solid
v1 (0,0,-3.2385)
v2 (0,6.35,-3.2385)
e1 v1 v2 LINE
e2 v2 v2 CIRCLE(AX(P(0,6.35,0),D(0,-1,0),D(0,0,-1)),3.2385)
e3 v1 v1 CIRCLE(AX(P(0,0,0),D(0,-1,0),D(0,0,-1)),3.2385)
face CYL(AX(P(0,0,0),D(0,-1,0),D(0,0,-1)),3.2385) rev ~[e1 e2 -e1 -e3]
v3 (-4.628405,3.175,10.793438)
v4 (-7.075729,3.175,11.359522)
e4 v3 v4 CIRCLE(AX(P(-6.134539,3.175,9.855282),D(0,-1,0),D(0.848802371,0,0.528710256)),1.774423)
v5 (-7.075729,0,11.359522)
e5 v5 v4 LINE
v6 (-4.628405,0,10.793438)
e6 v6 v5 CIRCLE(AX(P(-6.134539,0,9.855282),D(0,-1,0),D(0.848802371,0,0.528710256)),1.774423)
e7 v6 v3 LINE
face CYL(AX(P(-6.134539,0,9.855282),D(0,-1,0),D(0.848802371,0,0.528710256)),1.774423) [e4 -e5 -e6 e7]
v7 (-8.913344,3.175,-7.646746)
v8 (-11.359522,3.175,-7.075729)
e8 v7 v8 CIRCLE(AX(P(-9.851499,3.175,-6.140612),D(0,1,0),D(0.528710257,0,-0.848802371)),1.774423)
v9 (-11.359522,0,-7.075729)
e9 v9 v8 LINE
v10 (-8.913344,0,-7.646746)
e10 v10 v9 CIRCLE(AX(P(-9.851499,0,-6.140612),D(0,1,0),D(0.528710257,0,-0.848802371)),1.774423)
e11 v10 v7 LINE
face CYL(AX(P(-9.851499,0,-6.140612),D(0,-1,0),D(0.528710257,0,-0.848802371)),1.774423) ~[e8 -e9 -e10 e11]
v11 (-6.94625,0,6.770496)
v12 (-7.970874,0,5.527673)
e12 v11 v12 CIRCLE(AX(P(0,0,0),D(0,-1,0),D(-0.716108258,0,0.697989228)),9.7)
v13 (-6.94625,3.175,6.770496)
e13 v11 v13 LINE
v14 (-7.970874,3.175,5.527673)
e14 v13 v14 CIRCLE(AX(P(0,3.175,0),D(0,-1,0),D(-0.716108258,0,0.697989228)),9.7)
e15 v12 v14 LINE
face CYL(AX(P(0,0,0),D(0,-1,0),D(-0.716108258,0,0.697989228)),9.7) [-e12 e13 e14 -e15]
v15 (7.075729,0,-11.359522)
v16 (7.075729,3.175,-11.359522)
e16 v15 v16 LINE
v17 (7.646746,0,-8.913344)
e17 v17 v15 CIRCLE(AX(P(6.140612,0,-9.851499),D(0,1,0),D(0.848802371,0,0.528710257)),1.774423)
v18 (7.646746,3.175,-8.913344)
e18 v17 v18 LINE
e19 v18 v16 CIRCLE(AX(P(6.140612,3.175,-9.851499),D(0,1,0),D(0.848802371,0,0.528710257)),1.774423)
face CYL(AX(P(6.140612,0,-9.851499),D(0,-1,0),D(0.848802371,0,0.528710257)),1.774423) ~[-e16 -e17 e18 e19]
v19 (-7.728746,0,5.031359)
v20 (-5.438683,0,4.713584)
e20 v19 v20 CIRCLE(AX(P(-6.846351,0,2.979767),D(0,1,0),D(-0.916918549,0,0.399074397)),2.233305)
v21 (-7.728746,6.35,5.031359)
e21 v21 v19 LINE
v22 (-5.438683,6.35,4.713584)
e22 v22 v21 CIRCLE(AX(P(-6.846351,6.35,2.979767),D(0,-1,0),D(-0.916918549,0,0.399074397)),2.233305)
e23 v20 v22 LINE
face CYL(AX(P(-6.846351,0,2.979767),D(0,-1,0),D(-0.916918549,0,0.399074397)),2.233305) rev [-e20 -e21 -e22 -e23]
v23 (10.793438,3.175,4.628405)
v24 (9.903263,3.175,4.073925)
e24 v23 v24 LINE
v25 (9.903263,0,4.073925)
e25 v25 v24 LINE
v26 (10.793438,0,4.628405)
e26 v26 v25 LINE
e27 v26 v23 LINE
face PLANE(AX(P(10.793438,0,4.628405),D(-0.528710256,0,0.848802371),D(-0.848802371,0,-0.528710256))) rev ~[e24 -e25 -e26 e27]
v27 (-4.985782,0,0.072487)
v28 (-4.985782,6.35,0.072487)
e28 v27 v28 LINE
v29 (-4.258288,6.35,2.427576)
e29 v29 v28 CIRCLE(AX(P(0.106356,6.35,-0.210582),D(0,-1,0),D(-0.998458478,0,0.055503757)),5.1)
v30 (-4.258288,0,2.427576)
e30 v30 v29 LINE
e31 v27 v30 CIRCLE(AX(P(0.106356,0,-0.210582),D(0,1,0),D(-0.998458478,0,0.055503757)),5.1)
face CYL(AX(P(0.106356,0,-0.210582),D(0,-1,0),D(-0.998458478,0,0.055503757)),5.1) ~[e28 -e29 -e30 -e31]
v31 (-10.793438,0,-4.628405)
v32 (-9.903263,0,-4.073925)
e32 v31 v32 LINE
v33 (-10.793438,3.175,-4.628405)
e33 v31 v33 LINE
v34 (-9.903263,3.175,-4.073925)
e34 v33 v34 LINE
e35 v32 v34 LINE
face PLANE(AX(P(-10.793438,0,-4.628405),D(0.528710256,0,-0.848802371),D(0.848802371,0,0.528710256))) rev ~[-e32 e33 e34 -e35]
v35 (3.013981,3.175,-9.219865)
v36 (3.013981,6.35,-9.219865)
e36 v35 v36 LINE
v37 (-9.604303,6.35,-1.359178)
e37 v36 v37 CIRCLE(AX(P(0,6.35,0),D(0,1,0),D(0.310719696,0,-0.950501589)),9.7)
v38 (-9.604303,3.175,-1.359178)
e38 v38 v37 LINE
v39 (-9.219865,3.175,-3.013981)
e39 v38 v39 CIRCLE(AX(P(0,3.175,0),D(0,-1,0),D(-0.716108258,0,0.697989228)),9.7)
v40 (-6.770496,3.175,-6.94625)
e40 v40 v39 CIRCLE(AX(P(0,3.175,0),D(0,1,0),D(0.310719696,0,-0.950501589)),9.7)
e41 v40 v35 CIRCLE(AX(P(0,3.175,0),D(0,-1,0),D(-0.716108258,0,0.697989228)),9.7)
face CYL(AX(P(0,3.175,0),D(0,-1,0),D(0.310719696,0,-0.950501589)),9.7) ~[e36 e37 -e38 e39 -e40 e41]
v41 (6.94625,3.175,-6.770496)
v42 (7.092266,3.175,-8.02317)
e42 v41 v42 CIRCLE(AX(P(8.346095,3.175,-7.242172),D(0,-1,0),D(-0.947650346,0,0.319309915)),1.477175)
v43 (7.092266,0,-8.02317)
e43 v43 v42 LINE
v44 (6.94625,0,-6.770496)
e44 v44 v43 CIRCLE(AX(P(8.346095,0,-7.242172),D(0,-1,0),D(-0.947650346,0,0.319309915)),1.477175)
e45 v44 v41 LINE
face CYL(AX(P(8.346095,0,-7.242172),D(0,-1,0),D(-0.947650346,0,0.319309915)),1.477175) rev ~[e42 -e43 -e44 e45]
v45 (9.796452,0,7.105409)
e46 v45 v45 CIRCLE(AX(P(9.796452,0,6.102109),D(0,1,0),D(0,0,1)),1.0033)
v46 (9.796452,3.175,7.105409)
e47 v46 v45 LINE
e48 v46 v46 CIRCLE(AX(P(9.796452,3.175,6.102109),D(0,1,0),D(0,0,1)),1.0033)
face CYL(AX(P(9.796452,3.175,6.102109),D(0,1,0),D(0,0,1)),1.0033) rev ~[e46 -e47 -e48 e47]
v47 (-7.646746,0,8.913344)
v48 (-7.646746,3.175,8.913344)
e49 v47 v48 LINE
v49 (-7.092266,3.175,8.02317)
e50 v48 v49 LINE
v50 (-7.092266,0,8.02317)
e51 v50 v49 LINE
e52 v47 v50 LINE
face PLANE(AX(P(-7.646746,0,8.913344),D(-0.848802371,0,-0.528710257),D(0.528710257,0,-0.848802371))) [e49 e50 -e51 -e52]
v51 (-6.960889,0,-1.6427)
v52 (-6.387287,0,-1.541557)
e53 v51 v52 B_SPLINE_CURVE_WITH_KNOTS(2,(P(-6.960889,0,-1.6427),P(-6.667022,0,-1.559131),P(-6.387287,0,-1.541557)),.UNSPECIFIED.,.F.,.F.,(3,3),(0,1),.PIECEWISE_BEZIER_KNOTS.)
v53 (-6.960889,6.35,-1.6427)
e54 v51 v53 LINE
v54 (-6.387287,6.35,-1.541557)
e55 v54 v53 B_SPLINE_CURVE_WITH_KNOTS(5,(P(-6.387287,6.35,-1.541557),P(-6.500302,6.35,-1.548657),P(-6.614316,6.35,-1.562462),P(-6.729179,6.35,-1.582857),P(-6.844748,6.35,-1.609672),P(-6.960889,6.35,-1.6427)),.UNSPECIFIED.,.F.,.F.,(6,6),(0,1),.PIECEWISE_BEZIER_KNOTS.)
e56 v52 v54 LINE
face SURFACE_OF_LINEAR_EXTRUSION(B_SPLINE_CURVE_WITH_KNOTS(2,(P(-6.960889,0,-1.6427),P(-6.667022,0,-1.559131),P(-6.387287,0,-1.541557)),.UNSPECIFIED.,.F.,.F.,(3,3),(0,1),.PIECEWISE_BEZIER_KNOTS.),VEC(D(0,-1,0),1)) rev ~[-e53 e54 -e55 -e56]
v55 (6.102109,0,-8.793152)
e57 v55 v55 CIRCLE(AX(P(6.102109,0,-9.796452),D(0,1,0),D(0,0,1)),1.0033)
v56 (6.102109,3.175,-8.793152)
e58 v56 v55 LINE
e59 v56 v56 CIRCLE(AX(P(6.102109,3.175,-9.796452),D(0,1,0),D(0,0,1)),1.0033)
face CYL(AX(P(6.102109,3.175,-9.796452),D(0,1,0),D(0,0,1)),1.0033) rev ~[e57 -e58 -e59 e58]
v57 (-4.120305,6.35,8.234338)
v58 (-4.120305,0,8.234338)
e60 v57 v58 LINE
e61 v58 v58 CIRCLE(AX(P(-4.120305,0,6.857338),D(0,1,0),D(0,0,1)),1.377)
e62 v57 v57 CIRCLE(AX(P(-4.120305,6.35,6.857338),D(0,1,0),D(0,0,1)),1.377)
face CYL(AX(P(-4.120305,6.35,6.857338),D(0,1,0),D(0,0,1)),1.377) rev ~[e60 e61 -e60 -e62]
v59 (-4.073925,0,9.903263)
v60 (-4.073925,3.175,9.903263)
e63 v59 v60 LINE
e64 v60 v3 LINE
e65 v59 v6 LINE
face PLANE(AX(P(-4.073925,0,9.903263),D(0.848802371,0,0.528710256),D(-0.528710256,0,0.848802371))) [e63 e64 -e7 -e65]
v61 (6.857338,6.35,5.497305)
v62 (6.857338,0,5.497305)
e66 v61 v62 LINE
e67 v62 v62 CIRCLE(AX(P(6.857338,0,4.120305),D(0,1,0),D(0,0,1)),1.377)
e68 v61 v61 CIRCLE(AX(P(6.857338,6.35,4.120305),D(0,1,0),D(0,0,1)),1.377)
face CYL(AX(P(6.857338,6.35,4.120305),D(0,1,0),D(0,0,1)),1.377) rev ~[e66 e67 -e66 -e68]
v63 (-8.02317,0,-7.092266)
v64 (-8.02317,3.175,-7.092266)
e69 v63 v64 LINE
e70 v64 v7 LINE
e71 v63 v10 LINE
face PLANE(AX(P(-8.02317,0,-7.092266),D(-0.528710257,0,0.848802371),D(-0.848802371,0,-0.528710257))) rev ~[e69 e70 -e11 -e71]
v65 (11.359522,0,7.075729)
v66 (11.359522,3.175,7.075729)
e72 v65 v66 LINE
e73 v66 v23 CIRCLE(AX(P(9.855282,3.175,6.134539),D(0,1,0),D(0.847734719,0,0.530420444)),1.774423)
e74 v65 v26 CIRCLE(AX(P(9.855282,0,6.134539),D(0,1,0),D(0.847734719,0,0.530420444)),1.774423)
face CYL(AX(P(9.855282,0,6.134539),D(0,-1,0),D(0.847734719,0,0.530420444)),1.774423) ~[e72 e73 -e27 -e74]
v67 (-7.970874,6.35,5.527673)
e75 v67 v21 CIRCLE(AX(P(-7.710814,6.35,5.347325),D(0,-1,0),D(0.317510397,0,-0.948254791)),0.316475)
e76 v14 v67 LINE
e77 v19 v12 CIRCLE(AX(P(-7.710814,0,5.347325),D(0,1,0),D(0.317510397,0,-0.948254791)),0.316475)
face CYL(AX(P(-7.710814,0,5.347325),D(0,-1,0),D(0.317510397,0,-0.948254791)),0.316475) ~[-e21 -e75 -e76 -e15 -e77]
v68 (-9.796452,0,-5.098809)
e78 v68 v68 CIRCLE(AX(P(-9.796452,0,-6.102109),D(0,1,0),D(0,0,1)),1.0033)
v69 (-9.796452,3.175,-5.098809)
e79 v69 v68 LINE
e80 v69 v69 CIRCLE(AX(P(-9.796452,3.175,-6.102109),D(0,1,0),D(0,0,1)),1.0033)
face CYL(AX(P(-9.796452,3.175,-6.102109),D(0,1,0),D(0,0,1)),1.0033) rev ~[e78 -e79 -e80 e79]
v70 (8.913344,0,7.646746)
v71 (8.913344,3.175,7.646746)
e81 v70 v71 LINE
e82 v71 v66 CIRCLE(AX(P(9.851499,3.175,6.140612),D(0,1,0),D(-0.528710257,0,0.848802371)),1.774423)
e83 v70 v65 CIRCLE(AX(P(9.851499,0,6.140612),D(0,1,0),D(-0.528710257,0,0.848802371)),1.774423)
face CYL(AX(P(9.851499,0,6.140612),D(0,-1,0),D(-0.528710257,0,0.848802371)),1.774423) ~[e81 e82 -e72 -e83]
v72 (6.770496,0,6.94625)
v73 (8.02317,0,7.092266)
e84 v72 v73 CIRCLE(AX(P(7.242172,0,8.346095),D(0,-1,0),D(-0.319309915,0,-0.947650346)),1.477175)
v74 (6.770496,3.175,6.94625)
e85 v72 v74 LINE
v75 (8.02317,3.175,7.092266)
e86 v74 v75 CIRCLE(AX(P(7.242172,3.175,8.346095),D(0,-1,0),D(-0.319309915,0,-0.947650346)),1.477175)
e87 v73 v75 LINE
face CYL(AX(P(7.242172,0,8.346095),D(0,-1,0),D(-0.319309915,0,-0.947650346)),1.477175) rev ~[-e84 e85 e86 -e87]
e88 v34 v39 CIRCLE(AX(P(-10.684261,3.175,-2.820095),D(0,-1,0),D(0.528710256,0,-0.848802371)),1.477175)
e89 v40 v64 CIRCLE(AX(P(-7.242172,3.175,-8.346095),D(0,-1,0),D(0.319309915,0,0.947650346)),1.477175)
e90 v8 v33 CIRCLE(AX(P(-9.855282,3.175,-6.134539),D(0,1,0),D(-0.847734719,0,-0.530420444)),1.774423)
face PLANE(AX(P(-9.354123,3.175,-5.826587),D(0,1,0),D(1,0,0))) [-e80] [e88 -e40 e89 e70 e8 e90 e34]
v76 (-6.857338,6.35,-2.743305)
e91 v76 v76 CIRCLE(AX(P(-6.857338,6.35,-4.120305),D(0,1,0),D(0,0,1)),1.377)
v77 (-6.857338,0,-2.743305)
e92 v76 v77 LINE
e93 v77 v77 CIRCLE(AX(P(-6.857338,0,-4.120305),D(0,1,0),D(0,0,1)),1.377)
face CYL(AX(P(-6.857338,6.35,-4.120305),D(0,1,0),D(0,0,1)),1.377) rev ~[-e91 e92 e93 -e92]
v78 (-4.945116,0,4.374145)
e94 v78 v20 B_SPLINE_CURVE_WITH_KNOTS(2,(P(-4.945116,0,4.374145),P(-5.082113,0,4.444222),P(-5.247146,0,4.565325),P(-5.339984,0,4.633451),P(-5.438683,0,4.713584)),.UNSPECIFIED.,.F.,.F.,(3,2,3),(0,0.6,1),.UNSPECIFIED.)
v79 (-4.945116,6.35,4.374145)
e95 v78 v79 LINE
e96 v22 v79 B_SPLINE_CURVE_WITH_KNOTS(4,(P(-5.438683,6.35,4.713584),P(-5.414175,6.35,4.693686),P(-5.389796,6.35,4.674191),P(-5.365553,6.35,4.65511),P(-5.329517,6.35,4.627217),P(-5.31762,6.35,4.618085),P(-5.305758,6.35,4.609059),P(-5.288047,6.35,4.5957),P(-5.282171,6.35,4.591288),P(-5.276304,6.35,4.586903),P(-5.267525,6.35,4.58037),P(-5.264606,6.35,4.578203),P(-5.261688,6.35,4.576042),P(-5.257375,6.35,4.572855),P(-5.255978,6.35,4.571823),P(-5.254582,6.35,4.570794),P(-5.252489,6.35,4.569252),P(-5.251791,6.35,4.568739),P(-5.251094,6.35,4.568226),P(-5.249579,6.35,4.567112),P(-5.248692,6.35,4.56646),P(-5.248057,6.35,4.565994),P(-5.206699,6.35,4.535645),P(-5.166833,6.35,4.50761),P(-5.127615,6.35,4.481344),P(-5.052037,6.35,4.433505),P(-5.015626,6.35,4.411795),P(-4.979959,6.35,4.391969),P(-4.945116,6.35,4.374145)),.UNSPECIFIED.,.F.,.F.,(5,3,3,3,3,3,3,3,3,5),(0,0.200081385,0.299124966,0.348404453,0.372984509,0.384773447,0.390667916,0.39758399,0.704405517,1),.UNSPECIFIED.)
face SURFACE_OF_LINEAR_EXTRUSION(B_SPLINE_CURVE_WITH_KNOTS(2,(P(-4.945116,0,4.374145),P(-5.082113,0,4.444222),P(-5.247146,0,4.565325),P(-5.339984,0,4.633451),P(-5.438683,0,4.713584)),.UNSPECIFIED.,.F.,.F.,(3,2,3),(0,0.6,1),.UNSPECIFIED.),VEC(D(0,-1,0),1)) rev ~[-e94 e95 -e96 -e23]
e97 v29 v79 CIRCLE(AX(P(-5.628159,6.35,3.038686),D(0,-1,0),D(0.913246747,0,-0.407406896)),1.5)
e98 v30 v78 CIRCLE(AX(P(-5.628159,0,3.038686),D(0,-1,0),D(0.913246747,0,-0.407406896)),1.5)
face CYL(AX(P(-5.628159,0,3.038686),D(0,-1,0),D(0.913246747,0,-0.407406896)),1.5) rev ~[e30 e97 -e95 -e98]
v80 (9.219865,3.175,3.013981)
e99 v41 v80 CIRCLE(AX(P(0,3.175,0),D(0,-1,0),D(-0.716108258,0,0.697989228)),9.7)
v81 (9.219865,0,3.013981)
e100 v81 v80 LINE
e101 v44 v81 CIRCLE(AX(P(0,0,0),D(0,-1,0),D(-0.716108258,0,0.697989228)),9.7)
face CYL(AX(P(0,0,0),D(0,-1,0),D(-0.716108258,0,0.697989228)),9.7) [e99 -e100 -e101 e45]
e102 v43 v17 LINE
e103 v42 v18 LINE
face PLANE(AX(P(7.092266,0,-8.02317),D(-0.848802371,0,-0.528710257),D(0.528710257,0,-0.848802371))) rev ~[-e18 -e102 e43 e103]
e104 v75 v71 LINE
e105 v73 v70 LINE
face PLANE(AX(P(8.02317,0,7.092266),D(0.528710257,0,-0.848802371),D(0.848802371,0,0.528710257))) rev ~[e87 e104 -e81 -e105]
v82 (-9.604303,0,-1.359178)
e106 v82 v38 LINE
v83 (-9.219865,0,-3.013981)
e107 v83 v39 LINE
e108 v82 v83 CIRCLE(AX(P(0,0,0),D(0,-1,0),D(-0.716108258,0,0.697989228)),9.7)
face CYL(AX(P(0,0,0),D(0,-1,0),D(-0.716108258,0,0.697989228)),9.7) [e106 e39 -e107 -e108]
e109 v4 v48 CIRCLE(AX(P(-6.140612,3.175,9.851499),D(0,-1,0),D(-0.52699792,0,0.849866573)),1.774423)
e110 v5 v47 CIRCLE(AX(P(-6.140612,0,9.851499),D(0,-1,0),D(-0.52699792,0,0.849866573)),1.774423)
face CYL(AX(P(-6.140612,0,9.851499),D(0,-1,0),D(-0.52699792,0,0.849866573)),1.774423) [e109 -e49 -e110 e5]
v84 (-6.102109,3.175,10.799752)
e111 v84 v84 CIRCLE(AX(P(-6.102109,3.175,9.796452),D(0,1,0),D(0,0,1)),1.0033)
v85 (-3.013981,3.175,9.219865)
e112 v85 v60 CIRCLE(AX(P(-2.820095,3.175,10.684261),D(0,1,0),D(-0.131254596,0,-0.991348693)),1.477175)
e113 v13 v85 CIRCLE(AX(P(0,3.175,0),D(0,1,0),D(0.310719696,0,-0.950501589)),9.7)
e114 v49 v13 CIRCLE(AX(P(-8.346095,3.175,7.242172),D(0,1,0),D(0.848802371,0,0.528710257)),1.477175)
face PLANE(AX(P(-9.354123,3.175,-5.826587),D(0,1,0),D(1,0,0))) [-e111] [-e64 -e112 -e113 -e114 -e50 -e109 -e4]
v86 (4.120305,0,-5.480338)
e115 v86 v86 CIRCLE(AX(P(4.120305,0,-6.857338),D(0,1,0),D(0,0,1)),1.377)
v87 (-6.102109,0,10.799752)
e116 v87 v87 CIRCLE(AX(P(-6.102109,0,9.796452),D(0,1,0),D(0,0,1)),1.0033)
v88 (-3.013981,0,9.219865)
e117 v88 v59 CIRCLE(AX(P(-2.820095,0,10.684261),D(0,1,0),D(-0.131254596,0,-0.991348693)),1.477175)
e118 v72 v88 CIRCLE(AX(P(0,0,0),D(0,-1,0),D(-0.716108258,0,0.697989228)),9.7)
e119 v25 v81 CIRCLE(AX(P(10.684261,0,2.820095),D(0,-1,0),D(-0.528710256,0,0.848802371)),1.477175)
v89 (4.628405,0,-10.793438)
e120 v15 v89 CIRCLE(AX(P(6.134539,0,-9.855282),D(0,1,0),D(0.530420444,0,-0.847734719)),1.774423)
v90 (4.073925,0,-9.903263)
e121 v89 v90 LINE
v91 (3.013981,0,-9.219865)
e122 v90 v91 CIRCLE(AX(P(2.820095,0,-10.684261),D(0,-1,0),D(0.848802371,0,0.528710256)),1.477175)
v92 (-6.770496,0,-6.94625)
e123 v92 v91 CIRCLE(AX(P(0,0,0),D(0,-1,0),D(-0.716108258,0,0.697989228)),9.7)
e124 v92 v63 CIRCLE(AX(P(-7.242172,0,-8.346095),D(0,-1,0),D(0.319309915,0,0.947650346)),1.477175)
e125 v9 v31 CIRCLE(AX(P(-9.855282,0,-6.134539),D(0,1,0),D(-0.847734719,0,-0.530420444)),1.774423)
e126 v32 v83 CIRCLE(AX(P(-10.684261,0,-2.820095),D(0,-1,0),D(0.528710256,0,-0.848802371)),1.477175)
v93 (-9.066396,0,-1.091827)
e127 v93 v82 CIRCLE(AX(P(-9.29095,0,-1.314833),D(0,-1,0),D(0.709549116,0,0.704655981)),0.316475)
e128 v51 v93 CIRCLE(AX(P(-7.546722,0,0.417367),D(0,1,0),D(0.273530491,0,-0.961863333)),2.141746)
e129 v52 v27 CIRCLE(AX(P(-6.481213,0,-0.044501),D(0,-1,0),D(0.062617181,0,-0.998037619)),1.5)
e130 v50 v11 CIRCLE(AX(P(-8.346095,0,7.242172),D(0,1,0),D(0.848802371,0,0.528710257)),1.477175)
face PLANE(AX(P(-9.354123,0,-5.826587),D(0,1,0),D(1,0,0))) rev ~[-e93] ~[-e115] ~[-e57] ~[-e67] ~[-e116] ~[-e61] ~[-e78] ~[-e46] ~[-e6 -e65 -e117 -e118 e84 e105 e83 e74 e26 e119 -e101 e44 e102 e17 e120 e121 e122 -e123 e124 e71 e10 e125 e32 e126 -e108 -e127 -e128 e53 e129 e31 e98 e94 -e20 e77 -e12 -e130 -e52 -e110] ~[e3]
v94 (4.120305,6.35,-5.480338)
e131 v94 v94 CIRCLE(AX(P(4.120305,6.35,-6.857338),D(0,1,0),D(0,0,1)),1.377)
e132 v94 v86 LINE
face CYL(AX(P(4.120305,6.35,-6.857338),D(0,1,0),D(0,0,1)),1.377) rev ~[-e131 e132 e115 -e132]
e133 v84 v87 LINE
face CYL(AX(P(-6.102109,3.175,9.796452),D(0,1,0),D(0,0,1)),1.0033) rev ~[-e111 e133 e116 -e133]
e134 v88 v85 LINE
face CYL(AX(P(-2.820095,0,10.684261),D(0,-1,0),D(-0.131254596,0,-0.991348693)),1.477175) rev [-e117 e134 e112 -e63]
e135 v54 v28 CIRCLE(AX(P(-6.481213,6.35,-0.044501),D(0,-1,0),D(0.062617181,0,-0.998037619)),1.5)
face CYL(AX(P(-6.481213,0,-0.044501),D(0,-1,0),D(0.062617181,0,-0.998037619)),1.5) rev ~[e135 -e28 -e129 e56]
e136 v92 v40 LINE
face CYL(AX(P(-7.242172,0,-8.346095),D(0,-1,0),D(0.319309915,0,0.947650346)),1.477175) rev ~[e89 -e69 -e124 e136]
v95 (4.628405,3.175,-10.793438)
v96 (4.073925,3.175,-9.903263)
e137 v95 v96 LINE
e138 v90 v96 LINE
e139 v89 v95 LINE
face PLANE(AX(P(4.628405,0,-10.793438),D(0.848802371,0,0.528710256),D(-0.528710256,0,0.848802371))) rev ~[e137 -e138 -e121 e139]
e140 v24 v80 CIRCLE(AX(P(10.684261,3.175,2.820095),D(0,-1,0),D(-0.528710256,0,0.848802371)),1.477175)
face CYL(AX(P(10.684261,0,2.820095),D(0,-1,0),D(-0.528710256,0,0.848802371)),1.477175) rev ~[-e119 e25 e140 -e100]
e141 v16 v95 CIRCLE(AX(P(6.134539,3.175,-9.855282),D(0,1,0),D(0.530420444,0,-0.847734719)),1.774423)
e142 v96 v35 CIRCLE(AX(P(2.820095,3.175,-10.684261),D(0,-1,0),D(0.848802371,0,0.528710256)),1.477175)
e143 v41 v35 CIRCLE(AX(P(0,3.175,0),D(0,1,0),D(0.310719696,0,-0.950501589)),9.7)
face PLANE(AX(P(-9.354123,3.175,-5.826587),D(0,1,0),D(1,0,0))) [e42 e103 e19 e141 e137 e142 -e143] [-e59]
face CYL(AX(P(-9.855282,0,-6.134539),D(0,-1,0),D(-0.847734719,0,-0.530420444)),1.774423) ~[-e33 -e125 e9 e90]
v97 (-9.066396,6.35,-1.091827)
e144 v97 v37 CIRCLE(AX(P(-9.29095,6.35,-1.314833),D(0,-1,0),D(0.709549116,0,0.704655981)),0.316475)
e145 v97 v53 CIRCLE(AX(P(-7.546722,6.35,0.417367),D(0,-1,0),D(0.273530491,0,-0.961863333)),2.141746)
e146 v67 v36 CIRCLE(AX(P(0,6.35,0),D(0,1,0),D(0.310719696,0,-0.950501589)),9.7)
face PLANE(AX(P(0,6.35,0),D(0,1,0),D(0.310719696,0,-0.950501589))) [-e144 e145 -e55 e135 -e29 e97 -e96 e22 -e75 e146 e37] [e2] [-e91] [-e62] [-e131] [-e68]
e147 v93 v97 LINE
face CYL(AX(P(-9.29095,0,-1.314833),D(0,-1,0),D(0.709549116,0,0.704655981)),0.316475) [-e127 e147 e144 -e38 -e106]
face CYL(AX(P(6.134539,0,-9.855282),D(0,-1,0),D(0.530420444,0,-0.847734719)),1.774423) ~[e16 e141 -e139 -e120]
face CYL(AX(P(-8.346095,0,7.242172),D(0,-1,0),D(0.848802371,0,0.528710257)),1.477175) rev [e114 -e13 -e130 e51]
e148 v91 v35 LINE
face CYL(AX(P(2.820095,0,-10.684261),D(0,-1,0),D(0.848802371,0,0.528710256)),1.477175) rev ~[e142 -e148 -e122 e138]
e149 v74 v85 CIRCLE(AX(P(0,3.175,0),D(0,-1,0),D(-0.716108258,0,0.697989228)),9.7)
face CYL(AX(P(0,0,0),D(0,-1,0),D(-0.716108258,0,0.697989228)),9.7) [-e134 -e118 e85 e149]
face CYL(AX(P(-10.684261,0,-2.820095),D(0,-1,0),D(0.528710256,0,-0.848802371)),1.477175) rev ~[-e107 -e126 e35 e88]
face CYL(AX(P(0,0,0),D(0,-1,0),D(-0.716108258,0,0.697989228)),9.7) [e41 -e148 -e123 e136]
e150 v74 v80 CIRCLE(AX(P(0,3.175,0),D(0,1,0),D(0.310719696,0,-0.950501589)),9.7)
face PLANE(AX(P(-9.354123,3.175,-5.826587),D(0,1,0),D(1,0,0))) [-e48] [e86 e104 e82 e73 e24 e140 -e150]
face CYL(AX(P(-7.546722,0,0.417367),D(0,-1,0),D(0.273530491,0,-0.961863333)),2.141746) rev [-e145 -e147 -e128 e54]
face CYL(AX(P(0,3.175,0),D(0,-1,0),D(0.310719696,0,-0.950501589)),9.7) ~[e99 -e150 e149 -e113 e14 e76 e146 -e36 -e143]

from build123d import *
from build123d.topology import SkipClean

# Parameters (mm, degrees)
BOSS_EXTRUDE2_DEPTH = 3.175
SKETCH3_R           = 9.700000031
BOSS_EXTRUDE4_DEPTH = 3.175
SKETCH4_R           = 1.0033
CUT_EXTRUDE1_DEPTH  = 3.175
SKETCH6_R           = 1.25
CUT_EXTRUDE2_DEPTH  = 18.630160878
CUT_EXTRUDE3_DEPTH  = 18.630161045
CUT_EXTRUDE4_DEPTH  = 18.630161045
SKETCH9_R           = 3.2385
CUT_EXTRUDE5_DEPTH  = 18.630161045
SKETCH11_R          = 1.377
CUT_EXTRUDE7_DEPTH  = 18.630161045


with BuildPart() as part:
    # Sketch1 → Boss-Extrude2 (new body)
    with BuildSketch(Plane(origin=(0, 0, 0), x_dir=(1, 0, 0), z_dir=(0, 1, 0))):
        with BuildLine():
            ThreePointArc((-11.359521952, 7.075729248), (-11.584059991, 5.734660127), (-10.793437735, 4.628405109))
            Line((-10.793437735, 4.628405109), (-9.903263338, 4.073924644))
            ThreePointArc((-9.903263338, 4.073924644), (-9.442762789, 3.620550105), (-9.219865441, 3.013981065))
            ThreePointArc((-9.219865441, 3.013981065), (-8.233383025, 5.128489502), (-6.770495536, 6.946250125))
            ThreePointArc((-6.770495536, 6.946250125), (-7.413198477, 6.878854591), (-8.023169667, 7.092265875))
            Line((-8.023169667, 7.092265875), (-8.913344063, 7.64674634))
            ThreePointArc((-8.913344063, 7.64674634), (-10.254863148, 7.868580207), (-11.359521952, 7.075729248))
        make_face()
        with BuildLine():
            ThreePointArc((-7.092265875, -8.023169667), (-6.878854591, -7.413198477), (-6.946250125, -6.770495536))
            ThreePointArc((-6.946250125, -6.770495536), (5.128489502, 8.233383025), (-3.013981065, -9.219865441))
            ThreePointArc((-3.013981065, -9.219865441), (-3.620550105, -9.442762789), (-4.073924644, -9.903263338))
            Line((-4.073924644, -9.903263338), (-4.628405109, -10.793437735))
            ThreePointArc((-4.628405109, -10.793437735), (-5.734660127, -11.584059991), (-7.075729248, -11.359521952))
            ThreePointArc((-7.075729248, -11.359521952), (-7.868580207, -10.254863148), (-7.64674634, -8.913344063))
            Line((-7.64674634, -8.913344063), (-7.092265875, -8.023169667))
        make_face()
        with BuildLine():
            ThreePointArc((4.073924644, 9.903263338), (3.620550105, 9.442762789), (3.013981065, 9.219865441))
            ThreePointArc((3.013981065, 9.219865441), (5.128489502, 8.233383025), (6.946250125, 6.770495536))
            ThreePointArc((6.946250125, 6.770495536), (6.878854591, 7.413198477), (7.092265875, 8.023169667))
            Line((7.092265875, 8.023169667), (7.64674634, 8.913344063))
            ThreePointArc((7.64674634, 8.913344063), (7.868580207, 10.254863148), (7.075729248, 11.359521952))
            ThreePointArc((7.075729248, 11.359521952), (5.734660127, 11.584059991), (4.628405109, 10.793437735))
            Line((4.628405109, 10.793437735), (4.073924644, 9.903263338))
        make_face()
        with BuildLine():
            ThreePointArc((9.903263338, -4.073924644), (9.442762789, -3.620550105), (9.219865441, -3.013981065))
            ThreePointArc((9.219865441, -3.013981065), (8.233383025, -5.128489502), (6.770495536, -6.946250125))
            ThreePointArc((6.770495536, -6.946250125), (7.413198477, -6.878854591), (8.023169667, -7.092265875))
            Line((8.023169667, -7.092265875), (8.913344063, -7.64674634))
            ThreePointArc((8.913344063, -7.64674634), (10.254863148, -7.868580207), (11.359521952, -7.075729248))
            ThreePointArc((11.359521952, -7.075729248), (11.584059991, -5.734660127), (10.793437735, -4.628405109))
            Line((10.793437735, -4.628405109), (9.903263338, -4.073924644))
        make_face()
    extrude(amount=BOSS_EXTRUDE2_DEPTH)

    # Sketch3 → Boss-Extrude4 (add)
    with BuildSketch(Plane(origin=(0, 3.175, 0), x_dir=(1, 0, 0), z_dir=(0, 1, 0))):
        with Locations(Location((0, 0, 0), (0, 0, 71.897391919))):
            Circle(SKETCH3_R)
    extrude(amount=BOSS_EXTRUDE4_DEPTH)

    # Sketch4 → Cut-Extrude1 (cut)
    with BuildSketch(Plane(origin=(0, 3.175, 0), x_dir=(1, 0, 0), z_dir=(0, 1, 0))):
        with Locations(Location((-6.102109375, -9.796452489, 0), (0, 0, 270))):
            Circle(SKETCH4_R)
        with Locations(Location((-9.796452489, 6.102109375, 0), (0, 0, 270))):
            Circle(SKETCH4_R)
        with Locations(Location((6.102109375, 9.796452489, 0), (0, 0, 270))):
            Circle(SKETCH4_R)
        with Locations(Location((9.796452489, -6.102109375, 0), (0, 0, 270))):
            Circle(SKETCH4_R)
    extrude(amount=-CUT_EXTRUDE1_DEPTH, mode=Mode.SUBTRACT)

    # Sketch6 → Cut-Extrude2 (cut, through all)
    with BuildSketch(Plane.XZ):
        with Locations(Location((-4.120304599, 6.857338406, 0), (0, 0, 270))):
            Circle(SKETCH6_R)
        with Locations(Location((6.857338406, 4.120304599, 0), (0, 0, 270))):
            Circle(SKETCH6_R)
        with Locations(Location((4.120304599, -6.857338406, 0), (0, 0, 270))):
            Circle(SKETCH6_R)
        with Locations(Location((-6.857338406, -4.120304599, 0), (0, 0, 270))):
            Circle(SKETCH6_R)
        with BuildLine():
            ThreePointArc((-7.740826737, 4.188918313), (-8.600917053, 2.001520862), (-8.865312738, -0.333978632))
            ThreePointArc((-8.865312738, -0.333978632), (-8.220855367, -1.436176951), (-6.960889199, -1.642699812))
            add(Edge.make_bspline(
                [(-6.960889199, -1.642699812), (-6.667021958, -1.55913113), (-6.387287356, -1.541557431)],
                knots=[0, 0, 0, 1, 1, 1], degree=2))
            ThreePointArc((-6.387287356, -1.541557431), (-5.348606232, -1.027965094), (-4.985782131, 0.07248674))
            ThreePointArc((-4.985782131, 0.07248674), (-4.766455839, 1.294643053), (-4.258288499, 2.427575545))
            ThreePointArc((-4.258288499, 2.427575545), (-4.213628063, 3.537788389), (-4.945115585, 4.374145441))
            add(Edge.make_bspline(
                [(-4.945115585, 4.374145441), (-5.082112842, 4.444222059), (-5.247145609, 4.565325221), (-5.339984058, 4.633451266), (-5.43868295, 4.713583878)],
                knots=[0, 0, 0, 0.6, 0.6, 1, 1, 1], degree=2))
            ThreePointArc((-5.43868295, 4.713583878), (-6.717452114, 5.011565124), (-7.740826737, 4.188918313))
        make_face()
    extrude(amount=-CUT_EXTRUDE2_DEPTH, mode=Mode.SUBTRACT)

    # Sketch7 → Cut-Extrude3 (cut, through all)
    with SkipClean():  # the faces are left unmerged after this step: merging them gives an invalid solid
        with BuildSketch(Plane.XZ):
            with BuildLine():
                ThreePointArc((-6.960889199, -1.642699812), (-8.884242595, -1.255389349), (-9.685199878, 0.535634133))
                ThreePointArc((-9.685199878, 0.535634133), (-9.438161419, 2.238550786), (-8.894109958, 3.871021655))
                ThreePointArc((-8.894109958, 3.871021655), (-7.375413308, 5.149500563), (-5.43868295, 4.713583878))
                ThreePointArc((-5.43868295, 4.713583878), (-6.717452114, 5.011565124), (-7.740826737, 4.188918313))
                ThreePointArc((-7.740826737, 4.188918313), (-8.600917053, 2.001520862), (-8.865312738, -0.333978632))
                ThreePointArc((-8.865312738, -0.333978632), (-8.220855367, -1.436176951), (-6.960889199, -1.642699812))
            make_face()
        extrude(amount=-CUT_EXTRUDE3_DEPTH, mode=Mode.SUBTRACT)

    # Sketch8 → Cut-Extrude4 (cut, through all)
    with SkipClean():  # the faces are left unmerged after this step: merging them gives an invalid solid
        with BuildSketch(Plane.XZ):
            with BuildLine():
                Line((-9.60430299, -1.35917794), (-10.364546908, 0.869720512))
                Line((-10.364546908, 0.869720512), (-8.848022827, 0.869720512))
                Line((-8.848022827, 0.869720512), (-9.066395788, -1.091827064))
                ThreePointArc((-9.066395788, -1.091827064), (-9.431806259, -1.031432276), (-9.60430299, -1.35917794))
            make_face()
            with BuildLine():
                Line((-8.296144244, 3.19654695), (-7.610330094, 5.047226445))
                ThreePointArc((-7.610330094, 5.047226445), (-7.963941166, 5.15736977), (-7.97087416, 5.527672722))
                Line((-7.97087416, 5.527672722), (-9.651132171, 3.877614498))
                Line((-9.651132171, 3.877614498), (-8.296144244, 3.19654695))
            make_face()
        extrude(amount=-CUT_EXTRUDE4_DEPTH, mode=Mode.SUBTRACT)

    # Sketch9 → Cut-Extrude5 (cut, through all)
    with SkipClean():  # the faces are left unmerged after this step: merging them gives an invalid solid
        with BuildSketch(Plane.XZ):
            with Locations(Location((0, 0, 0), (0, 0, 270))):
                Circle(SKETCH9_R)
        extrude(amount=-CUT_EXTRUDE5_DEPTH, mode=Mode.SUBTRACT)

    # Sketch11 → Cut-Extrude7 (cut, through all)
    with SkipClean():  # the faces are left unmerged after this step: merging them gives an invalid solid
        with BuildSketch(Plane(origin=(0, 6.35, 0), x_dir=(1, 0, 0), z_dir=(0, 1, 0))):
            with Locations(Location((-6.857338406, 4.120304599, 0), (0, 0, 270))):
                Circle(SKETCH11_R)
            with Locations(Location((4.120304599, 6.857338406, 0), (0, 0, 270))):
                Circle(SKETCH11_R)
            with Locations(Location((6.857338406, -4.120304599, 0), (0, 0, 270))):
                Circle(SKETCH11_R)
            with Locations(Location((-4.120304599, -6.857338406, 0), (0, 0, 270))):
                Circle(SKETCH11_R)
        extrude(amount=-CUT_EXTRUDE7_DEPTH, mode=Mode.SUBTRACT)


solid = part.part
